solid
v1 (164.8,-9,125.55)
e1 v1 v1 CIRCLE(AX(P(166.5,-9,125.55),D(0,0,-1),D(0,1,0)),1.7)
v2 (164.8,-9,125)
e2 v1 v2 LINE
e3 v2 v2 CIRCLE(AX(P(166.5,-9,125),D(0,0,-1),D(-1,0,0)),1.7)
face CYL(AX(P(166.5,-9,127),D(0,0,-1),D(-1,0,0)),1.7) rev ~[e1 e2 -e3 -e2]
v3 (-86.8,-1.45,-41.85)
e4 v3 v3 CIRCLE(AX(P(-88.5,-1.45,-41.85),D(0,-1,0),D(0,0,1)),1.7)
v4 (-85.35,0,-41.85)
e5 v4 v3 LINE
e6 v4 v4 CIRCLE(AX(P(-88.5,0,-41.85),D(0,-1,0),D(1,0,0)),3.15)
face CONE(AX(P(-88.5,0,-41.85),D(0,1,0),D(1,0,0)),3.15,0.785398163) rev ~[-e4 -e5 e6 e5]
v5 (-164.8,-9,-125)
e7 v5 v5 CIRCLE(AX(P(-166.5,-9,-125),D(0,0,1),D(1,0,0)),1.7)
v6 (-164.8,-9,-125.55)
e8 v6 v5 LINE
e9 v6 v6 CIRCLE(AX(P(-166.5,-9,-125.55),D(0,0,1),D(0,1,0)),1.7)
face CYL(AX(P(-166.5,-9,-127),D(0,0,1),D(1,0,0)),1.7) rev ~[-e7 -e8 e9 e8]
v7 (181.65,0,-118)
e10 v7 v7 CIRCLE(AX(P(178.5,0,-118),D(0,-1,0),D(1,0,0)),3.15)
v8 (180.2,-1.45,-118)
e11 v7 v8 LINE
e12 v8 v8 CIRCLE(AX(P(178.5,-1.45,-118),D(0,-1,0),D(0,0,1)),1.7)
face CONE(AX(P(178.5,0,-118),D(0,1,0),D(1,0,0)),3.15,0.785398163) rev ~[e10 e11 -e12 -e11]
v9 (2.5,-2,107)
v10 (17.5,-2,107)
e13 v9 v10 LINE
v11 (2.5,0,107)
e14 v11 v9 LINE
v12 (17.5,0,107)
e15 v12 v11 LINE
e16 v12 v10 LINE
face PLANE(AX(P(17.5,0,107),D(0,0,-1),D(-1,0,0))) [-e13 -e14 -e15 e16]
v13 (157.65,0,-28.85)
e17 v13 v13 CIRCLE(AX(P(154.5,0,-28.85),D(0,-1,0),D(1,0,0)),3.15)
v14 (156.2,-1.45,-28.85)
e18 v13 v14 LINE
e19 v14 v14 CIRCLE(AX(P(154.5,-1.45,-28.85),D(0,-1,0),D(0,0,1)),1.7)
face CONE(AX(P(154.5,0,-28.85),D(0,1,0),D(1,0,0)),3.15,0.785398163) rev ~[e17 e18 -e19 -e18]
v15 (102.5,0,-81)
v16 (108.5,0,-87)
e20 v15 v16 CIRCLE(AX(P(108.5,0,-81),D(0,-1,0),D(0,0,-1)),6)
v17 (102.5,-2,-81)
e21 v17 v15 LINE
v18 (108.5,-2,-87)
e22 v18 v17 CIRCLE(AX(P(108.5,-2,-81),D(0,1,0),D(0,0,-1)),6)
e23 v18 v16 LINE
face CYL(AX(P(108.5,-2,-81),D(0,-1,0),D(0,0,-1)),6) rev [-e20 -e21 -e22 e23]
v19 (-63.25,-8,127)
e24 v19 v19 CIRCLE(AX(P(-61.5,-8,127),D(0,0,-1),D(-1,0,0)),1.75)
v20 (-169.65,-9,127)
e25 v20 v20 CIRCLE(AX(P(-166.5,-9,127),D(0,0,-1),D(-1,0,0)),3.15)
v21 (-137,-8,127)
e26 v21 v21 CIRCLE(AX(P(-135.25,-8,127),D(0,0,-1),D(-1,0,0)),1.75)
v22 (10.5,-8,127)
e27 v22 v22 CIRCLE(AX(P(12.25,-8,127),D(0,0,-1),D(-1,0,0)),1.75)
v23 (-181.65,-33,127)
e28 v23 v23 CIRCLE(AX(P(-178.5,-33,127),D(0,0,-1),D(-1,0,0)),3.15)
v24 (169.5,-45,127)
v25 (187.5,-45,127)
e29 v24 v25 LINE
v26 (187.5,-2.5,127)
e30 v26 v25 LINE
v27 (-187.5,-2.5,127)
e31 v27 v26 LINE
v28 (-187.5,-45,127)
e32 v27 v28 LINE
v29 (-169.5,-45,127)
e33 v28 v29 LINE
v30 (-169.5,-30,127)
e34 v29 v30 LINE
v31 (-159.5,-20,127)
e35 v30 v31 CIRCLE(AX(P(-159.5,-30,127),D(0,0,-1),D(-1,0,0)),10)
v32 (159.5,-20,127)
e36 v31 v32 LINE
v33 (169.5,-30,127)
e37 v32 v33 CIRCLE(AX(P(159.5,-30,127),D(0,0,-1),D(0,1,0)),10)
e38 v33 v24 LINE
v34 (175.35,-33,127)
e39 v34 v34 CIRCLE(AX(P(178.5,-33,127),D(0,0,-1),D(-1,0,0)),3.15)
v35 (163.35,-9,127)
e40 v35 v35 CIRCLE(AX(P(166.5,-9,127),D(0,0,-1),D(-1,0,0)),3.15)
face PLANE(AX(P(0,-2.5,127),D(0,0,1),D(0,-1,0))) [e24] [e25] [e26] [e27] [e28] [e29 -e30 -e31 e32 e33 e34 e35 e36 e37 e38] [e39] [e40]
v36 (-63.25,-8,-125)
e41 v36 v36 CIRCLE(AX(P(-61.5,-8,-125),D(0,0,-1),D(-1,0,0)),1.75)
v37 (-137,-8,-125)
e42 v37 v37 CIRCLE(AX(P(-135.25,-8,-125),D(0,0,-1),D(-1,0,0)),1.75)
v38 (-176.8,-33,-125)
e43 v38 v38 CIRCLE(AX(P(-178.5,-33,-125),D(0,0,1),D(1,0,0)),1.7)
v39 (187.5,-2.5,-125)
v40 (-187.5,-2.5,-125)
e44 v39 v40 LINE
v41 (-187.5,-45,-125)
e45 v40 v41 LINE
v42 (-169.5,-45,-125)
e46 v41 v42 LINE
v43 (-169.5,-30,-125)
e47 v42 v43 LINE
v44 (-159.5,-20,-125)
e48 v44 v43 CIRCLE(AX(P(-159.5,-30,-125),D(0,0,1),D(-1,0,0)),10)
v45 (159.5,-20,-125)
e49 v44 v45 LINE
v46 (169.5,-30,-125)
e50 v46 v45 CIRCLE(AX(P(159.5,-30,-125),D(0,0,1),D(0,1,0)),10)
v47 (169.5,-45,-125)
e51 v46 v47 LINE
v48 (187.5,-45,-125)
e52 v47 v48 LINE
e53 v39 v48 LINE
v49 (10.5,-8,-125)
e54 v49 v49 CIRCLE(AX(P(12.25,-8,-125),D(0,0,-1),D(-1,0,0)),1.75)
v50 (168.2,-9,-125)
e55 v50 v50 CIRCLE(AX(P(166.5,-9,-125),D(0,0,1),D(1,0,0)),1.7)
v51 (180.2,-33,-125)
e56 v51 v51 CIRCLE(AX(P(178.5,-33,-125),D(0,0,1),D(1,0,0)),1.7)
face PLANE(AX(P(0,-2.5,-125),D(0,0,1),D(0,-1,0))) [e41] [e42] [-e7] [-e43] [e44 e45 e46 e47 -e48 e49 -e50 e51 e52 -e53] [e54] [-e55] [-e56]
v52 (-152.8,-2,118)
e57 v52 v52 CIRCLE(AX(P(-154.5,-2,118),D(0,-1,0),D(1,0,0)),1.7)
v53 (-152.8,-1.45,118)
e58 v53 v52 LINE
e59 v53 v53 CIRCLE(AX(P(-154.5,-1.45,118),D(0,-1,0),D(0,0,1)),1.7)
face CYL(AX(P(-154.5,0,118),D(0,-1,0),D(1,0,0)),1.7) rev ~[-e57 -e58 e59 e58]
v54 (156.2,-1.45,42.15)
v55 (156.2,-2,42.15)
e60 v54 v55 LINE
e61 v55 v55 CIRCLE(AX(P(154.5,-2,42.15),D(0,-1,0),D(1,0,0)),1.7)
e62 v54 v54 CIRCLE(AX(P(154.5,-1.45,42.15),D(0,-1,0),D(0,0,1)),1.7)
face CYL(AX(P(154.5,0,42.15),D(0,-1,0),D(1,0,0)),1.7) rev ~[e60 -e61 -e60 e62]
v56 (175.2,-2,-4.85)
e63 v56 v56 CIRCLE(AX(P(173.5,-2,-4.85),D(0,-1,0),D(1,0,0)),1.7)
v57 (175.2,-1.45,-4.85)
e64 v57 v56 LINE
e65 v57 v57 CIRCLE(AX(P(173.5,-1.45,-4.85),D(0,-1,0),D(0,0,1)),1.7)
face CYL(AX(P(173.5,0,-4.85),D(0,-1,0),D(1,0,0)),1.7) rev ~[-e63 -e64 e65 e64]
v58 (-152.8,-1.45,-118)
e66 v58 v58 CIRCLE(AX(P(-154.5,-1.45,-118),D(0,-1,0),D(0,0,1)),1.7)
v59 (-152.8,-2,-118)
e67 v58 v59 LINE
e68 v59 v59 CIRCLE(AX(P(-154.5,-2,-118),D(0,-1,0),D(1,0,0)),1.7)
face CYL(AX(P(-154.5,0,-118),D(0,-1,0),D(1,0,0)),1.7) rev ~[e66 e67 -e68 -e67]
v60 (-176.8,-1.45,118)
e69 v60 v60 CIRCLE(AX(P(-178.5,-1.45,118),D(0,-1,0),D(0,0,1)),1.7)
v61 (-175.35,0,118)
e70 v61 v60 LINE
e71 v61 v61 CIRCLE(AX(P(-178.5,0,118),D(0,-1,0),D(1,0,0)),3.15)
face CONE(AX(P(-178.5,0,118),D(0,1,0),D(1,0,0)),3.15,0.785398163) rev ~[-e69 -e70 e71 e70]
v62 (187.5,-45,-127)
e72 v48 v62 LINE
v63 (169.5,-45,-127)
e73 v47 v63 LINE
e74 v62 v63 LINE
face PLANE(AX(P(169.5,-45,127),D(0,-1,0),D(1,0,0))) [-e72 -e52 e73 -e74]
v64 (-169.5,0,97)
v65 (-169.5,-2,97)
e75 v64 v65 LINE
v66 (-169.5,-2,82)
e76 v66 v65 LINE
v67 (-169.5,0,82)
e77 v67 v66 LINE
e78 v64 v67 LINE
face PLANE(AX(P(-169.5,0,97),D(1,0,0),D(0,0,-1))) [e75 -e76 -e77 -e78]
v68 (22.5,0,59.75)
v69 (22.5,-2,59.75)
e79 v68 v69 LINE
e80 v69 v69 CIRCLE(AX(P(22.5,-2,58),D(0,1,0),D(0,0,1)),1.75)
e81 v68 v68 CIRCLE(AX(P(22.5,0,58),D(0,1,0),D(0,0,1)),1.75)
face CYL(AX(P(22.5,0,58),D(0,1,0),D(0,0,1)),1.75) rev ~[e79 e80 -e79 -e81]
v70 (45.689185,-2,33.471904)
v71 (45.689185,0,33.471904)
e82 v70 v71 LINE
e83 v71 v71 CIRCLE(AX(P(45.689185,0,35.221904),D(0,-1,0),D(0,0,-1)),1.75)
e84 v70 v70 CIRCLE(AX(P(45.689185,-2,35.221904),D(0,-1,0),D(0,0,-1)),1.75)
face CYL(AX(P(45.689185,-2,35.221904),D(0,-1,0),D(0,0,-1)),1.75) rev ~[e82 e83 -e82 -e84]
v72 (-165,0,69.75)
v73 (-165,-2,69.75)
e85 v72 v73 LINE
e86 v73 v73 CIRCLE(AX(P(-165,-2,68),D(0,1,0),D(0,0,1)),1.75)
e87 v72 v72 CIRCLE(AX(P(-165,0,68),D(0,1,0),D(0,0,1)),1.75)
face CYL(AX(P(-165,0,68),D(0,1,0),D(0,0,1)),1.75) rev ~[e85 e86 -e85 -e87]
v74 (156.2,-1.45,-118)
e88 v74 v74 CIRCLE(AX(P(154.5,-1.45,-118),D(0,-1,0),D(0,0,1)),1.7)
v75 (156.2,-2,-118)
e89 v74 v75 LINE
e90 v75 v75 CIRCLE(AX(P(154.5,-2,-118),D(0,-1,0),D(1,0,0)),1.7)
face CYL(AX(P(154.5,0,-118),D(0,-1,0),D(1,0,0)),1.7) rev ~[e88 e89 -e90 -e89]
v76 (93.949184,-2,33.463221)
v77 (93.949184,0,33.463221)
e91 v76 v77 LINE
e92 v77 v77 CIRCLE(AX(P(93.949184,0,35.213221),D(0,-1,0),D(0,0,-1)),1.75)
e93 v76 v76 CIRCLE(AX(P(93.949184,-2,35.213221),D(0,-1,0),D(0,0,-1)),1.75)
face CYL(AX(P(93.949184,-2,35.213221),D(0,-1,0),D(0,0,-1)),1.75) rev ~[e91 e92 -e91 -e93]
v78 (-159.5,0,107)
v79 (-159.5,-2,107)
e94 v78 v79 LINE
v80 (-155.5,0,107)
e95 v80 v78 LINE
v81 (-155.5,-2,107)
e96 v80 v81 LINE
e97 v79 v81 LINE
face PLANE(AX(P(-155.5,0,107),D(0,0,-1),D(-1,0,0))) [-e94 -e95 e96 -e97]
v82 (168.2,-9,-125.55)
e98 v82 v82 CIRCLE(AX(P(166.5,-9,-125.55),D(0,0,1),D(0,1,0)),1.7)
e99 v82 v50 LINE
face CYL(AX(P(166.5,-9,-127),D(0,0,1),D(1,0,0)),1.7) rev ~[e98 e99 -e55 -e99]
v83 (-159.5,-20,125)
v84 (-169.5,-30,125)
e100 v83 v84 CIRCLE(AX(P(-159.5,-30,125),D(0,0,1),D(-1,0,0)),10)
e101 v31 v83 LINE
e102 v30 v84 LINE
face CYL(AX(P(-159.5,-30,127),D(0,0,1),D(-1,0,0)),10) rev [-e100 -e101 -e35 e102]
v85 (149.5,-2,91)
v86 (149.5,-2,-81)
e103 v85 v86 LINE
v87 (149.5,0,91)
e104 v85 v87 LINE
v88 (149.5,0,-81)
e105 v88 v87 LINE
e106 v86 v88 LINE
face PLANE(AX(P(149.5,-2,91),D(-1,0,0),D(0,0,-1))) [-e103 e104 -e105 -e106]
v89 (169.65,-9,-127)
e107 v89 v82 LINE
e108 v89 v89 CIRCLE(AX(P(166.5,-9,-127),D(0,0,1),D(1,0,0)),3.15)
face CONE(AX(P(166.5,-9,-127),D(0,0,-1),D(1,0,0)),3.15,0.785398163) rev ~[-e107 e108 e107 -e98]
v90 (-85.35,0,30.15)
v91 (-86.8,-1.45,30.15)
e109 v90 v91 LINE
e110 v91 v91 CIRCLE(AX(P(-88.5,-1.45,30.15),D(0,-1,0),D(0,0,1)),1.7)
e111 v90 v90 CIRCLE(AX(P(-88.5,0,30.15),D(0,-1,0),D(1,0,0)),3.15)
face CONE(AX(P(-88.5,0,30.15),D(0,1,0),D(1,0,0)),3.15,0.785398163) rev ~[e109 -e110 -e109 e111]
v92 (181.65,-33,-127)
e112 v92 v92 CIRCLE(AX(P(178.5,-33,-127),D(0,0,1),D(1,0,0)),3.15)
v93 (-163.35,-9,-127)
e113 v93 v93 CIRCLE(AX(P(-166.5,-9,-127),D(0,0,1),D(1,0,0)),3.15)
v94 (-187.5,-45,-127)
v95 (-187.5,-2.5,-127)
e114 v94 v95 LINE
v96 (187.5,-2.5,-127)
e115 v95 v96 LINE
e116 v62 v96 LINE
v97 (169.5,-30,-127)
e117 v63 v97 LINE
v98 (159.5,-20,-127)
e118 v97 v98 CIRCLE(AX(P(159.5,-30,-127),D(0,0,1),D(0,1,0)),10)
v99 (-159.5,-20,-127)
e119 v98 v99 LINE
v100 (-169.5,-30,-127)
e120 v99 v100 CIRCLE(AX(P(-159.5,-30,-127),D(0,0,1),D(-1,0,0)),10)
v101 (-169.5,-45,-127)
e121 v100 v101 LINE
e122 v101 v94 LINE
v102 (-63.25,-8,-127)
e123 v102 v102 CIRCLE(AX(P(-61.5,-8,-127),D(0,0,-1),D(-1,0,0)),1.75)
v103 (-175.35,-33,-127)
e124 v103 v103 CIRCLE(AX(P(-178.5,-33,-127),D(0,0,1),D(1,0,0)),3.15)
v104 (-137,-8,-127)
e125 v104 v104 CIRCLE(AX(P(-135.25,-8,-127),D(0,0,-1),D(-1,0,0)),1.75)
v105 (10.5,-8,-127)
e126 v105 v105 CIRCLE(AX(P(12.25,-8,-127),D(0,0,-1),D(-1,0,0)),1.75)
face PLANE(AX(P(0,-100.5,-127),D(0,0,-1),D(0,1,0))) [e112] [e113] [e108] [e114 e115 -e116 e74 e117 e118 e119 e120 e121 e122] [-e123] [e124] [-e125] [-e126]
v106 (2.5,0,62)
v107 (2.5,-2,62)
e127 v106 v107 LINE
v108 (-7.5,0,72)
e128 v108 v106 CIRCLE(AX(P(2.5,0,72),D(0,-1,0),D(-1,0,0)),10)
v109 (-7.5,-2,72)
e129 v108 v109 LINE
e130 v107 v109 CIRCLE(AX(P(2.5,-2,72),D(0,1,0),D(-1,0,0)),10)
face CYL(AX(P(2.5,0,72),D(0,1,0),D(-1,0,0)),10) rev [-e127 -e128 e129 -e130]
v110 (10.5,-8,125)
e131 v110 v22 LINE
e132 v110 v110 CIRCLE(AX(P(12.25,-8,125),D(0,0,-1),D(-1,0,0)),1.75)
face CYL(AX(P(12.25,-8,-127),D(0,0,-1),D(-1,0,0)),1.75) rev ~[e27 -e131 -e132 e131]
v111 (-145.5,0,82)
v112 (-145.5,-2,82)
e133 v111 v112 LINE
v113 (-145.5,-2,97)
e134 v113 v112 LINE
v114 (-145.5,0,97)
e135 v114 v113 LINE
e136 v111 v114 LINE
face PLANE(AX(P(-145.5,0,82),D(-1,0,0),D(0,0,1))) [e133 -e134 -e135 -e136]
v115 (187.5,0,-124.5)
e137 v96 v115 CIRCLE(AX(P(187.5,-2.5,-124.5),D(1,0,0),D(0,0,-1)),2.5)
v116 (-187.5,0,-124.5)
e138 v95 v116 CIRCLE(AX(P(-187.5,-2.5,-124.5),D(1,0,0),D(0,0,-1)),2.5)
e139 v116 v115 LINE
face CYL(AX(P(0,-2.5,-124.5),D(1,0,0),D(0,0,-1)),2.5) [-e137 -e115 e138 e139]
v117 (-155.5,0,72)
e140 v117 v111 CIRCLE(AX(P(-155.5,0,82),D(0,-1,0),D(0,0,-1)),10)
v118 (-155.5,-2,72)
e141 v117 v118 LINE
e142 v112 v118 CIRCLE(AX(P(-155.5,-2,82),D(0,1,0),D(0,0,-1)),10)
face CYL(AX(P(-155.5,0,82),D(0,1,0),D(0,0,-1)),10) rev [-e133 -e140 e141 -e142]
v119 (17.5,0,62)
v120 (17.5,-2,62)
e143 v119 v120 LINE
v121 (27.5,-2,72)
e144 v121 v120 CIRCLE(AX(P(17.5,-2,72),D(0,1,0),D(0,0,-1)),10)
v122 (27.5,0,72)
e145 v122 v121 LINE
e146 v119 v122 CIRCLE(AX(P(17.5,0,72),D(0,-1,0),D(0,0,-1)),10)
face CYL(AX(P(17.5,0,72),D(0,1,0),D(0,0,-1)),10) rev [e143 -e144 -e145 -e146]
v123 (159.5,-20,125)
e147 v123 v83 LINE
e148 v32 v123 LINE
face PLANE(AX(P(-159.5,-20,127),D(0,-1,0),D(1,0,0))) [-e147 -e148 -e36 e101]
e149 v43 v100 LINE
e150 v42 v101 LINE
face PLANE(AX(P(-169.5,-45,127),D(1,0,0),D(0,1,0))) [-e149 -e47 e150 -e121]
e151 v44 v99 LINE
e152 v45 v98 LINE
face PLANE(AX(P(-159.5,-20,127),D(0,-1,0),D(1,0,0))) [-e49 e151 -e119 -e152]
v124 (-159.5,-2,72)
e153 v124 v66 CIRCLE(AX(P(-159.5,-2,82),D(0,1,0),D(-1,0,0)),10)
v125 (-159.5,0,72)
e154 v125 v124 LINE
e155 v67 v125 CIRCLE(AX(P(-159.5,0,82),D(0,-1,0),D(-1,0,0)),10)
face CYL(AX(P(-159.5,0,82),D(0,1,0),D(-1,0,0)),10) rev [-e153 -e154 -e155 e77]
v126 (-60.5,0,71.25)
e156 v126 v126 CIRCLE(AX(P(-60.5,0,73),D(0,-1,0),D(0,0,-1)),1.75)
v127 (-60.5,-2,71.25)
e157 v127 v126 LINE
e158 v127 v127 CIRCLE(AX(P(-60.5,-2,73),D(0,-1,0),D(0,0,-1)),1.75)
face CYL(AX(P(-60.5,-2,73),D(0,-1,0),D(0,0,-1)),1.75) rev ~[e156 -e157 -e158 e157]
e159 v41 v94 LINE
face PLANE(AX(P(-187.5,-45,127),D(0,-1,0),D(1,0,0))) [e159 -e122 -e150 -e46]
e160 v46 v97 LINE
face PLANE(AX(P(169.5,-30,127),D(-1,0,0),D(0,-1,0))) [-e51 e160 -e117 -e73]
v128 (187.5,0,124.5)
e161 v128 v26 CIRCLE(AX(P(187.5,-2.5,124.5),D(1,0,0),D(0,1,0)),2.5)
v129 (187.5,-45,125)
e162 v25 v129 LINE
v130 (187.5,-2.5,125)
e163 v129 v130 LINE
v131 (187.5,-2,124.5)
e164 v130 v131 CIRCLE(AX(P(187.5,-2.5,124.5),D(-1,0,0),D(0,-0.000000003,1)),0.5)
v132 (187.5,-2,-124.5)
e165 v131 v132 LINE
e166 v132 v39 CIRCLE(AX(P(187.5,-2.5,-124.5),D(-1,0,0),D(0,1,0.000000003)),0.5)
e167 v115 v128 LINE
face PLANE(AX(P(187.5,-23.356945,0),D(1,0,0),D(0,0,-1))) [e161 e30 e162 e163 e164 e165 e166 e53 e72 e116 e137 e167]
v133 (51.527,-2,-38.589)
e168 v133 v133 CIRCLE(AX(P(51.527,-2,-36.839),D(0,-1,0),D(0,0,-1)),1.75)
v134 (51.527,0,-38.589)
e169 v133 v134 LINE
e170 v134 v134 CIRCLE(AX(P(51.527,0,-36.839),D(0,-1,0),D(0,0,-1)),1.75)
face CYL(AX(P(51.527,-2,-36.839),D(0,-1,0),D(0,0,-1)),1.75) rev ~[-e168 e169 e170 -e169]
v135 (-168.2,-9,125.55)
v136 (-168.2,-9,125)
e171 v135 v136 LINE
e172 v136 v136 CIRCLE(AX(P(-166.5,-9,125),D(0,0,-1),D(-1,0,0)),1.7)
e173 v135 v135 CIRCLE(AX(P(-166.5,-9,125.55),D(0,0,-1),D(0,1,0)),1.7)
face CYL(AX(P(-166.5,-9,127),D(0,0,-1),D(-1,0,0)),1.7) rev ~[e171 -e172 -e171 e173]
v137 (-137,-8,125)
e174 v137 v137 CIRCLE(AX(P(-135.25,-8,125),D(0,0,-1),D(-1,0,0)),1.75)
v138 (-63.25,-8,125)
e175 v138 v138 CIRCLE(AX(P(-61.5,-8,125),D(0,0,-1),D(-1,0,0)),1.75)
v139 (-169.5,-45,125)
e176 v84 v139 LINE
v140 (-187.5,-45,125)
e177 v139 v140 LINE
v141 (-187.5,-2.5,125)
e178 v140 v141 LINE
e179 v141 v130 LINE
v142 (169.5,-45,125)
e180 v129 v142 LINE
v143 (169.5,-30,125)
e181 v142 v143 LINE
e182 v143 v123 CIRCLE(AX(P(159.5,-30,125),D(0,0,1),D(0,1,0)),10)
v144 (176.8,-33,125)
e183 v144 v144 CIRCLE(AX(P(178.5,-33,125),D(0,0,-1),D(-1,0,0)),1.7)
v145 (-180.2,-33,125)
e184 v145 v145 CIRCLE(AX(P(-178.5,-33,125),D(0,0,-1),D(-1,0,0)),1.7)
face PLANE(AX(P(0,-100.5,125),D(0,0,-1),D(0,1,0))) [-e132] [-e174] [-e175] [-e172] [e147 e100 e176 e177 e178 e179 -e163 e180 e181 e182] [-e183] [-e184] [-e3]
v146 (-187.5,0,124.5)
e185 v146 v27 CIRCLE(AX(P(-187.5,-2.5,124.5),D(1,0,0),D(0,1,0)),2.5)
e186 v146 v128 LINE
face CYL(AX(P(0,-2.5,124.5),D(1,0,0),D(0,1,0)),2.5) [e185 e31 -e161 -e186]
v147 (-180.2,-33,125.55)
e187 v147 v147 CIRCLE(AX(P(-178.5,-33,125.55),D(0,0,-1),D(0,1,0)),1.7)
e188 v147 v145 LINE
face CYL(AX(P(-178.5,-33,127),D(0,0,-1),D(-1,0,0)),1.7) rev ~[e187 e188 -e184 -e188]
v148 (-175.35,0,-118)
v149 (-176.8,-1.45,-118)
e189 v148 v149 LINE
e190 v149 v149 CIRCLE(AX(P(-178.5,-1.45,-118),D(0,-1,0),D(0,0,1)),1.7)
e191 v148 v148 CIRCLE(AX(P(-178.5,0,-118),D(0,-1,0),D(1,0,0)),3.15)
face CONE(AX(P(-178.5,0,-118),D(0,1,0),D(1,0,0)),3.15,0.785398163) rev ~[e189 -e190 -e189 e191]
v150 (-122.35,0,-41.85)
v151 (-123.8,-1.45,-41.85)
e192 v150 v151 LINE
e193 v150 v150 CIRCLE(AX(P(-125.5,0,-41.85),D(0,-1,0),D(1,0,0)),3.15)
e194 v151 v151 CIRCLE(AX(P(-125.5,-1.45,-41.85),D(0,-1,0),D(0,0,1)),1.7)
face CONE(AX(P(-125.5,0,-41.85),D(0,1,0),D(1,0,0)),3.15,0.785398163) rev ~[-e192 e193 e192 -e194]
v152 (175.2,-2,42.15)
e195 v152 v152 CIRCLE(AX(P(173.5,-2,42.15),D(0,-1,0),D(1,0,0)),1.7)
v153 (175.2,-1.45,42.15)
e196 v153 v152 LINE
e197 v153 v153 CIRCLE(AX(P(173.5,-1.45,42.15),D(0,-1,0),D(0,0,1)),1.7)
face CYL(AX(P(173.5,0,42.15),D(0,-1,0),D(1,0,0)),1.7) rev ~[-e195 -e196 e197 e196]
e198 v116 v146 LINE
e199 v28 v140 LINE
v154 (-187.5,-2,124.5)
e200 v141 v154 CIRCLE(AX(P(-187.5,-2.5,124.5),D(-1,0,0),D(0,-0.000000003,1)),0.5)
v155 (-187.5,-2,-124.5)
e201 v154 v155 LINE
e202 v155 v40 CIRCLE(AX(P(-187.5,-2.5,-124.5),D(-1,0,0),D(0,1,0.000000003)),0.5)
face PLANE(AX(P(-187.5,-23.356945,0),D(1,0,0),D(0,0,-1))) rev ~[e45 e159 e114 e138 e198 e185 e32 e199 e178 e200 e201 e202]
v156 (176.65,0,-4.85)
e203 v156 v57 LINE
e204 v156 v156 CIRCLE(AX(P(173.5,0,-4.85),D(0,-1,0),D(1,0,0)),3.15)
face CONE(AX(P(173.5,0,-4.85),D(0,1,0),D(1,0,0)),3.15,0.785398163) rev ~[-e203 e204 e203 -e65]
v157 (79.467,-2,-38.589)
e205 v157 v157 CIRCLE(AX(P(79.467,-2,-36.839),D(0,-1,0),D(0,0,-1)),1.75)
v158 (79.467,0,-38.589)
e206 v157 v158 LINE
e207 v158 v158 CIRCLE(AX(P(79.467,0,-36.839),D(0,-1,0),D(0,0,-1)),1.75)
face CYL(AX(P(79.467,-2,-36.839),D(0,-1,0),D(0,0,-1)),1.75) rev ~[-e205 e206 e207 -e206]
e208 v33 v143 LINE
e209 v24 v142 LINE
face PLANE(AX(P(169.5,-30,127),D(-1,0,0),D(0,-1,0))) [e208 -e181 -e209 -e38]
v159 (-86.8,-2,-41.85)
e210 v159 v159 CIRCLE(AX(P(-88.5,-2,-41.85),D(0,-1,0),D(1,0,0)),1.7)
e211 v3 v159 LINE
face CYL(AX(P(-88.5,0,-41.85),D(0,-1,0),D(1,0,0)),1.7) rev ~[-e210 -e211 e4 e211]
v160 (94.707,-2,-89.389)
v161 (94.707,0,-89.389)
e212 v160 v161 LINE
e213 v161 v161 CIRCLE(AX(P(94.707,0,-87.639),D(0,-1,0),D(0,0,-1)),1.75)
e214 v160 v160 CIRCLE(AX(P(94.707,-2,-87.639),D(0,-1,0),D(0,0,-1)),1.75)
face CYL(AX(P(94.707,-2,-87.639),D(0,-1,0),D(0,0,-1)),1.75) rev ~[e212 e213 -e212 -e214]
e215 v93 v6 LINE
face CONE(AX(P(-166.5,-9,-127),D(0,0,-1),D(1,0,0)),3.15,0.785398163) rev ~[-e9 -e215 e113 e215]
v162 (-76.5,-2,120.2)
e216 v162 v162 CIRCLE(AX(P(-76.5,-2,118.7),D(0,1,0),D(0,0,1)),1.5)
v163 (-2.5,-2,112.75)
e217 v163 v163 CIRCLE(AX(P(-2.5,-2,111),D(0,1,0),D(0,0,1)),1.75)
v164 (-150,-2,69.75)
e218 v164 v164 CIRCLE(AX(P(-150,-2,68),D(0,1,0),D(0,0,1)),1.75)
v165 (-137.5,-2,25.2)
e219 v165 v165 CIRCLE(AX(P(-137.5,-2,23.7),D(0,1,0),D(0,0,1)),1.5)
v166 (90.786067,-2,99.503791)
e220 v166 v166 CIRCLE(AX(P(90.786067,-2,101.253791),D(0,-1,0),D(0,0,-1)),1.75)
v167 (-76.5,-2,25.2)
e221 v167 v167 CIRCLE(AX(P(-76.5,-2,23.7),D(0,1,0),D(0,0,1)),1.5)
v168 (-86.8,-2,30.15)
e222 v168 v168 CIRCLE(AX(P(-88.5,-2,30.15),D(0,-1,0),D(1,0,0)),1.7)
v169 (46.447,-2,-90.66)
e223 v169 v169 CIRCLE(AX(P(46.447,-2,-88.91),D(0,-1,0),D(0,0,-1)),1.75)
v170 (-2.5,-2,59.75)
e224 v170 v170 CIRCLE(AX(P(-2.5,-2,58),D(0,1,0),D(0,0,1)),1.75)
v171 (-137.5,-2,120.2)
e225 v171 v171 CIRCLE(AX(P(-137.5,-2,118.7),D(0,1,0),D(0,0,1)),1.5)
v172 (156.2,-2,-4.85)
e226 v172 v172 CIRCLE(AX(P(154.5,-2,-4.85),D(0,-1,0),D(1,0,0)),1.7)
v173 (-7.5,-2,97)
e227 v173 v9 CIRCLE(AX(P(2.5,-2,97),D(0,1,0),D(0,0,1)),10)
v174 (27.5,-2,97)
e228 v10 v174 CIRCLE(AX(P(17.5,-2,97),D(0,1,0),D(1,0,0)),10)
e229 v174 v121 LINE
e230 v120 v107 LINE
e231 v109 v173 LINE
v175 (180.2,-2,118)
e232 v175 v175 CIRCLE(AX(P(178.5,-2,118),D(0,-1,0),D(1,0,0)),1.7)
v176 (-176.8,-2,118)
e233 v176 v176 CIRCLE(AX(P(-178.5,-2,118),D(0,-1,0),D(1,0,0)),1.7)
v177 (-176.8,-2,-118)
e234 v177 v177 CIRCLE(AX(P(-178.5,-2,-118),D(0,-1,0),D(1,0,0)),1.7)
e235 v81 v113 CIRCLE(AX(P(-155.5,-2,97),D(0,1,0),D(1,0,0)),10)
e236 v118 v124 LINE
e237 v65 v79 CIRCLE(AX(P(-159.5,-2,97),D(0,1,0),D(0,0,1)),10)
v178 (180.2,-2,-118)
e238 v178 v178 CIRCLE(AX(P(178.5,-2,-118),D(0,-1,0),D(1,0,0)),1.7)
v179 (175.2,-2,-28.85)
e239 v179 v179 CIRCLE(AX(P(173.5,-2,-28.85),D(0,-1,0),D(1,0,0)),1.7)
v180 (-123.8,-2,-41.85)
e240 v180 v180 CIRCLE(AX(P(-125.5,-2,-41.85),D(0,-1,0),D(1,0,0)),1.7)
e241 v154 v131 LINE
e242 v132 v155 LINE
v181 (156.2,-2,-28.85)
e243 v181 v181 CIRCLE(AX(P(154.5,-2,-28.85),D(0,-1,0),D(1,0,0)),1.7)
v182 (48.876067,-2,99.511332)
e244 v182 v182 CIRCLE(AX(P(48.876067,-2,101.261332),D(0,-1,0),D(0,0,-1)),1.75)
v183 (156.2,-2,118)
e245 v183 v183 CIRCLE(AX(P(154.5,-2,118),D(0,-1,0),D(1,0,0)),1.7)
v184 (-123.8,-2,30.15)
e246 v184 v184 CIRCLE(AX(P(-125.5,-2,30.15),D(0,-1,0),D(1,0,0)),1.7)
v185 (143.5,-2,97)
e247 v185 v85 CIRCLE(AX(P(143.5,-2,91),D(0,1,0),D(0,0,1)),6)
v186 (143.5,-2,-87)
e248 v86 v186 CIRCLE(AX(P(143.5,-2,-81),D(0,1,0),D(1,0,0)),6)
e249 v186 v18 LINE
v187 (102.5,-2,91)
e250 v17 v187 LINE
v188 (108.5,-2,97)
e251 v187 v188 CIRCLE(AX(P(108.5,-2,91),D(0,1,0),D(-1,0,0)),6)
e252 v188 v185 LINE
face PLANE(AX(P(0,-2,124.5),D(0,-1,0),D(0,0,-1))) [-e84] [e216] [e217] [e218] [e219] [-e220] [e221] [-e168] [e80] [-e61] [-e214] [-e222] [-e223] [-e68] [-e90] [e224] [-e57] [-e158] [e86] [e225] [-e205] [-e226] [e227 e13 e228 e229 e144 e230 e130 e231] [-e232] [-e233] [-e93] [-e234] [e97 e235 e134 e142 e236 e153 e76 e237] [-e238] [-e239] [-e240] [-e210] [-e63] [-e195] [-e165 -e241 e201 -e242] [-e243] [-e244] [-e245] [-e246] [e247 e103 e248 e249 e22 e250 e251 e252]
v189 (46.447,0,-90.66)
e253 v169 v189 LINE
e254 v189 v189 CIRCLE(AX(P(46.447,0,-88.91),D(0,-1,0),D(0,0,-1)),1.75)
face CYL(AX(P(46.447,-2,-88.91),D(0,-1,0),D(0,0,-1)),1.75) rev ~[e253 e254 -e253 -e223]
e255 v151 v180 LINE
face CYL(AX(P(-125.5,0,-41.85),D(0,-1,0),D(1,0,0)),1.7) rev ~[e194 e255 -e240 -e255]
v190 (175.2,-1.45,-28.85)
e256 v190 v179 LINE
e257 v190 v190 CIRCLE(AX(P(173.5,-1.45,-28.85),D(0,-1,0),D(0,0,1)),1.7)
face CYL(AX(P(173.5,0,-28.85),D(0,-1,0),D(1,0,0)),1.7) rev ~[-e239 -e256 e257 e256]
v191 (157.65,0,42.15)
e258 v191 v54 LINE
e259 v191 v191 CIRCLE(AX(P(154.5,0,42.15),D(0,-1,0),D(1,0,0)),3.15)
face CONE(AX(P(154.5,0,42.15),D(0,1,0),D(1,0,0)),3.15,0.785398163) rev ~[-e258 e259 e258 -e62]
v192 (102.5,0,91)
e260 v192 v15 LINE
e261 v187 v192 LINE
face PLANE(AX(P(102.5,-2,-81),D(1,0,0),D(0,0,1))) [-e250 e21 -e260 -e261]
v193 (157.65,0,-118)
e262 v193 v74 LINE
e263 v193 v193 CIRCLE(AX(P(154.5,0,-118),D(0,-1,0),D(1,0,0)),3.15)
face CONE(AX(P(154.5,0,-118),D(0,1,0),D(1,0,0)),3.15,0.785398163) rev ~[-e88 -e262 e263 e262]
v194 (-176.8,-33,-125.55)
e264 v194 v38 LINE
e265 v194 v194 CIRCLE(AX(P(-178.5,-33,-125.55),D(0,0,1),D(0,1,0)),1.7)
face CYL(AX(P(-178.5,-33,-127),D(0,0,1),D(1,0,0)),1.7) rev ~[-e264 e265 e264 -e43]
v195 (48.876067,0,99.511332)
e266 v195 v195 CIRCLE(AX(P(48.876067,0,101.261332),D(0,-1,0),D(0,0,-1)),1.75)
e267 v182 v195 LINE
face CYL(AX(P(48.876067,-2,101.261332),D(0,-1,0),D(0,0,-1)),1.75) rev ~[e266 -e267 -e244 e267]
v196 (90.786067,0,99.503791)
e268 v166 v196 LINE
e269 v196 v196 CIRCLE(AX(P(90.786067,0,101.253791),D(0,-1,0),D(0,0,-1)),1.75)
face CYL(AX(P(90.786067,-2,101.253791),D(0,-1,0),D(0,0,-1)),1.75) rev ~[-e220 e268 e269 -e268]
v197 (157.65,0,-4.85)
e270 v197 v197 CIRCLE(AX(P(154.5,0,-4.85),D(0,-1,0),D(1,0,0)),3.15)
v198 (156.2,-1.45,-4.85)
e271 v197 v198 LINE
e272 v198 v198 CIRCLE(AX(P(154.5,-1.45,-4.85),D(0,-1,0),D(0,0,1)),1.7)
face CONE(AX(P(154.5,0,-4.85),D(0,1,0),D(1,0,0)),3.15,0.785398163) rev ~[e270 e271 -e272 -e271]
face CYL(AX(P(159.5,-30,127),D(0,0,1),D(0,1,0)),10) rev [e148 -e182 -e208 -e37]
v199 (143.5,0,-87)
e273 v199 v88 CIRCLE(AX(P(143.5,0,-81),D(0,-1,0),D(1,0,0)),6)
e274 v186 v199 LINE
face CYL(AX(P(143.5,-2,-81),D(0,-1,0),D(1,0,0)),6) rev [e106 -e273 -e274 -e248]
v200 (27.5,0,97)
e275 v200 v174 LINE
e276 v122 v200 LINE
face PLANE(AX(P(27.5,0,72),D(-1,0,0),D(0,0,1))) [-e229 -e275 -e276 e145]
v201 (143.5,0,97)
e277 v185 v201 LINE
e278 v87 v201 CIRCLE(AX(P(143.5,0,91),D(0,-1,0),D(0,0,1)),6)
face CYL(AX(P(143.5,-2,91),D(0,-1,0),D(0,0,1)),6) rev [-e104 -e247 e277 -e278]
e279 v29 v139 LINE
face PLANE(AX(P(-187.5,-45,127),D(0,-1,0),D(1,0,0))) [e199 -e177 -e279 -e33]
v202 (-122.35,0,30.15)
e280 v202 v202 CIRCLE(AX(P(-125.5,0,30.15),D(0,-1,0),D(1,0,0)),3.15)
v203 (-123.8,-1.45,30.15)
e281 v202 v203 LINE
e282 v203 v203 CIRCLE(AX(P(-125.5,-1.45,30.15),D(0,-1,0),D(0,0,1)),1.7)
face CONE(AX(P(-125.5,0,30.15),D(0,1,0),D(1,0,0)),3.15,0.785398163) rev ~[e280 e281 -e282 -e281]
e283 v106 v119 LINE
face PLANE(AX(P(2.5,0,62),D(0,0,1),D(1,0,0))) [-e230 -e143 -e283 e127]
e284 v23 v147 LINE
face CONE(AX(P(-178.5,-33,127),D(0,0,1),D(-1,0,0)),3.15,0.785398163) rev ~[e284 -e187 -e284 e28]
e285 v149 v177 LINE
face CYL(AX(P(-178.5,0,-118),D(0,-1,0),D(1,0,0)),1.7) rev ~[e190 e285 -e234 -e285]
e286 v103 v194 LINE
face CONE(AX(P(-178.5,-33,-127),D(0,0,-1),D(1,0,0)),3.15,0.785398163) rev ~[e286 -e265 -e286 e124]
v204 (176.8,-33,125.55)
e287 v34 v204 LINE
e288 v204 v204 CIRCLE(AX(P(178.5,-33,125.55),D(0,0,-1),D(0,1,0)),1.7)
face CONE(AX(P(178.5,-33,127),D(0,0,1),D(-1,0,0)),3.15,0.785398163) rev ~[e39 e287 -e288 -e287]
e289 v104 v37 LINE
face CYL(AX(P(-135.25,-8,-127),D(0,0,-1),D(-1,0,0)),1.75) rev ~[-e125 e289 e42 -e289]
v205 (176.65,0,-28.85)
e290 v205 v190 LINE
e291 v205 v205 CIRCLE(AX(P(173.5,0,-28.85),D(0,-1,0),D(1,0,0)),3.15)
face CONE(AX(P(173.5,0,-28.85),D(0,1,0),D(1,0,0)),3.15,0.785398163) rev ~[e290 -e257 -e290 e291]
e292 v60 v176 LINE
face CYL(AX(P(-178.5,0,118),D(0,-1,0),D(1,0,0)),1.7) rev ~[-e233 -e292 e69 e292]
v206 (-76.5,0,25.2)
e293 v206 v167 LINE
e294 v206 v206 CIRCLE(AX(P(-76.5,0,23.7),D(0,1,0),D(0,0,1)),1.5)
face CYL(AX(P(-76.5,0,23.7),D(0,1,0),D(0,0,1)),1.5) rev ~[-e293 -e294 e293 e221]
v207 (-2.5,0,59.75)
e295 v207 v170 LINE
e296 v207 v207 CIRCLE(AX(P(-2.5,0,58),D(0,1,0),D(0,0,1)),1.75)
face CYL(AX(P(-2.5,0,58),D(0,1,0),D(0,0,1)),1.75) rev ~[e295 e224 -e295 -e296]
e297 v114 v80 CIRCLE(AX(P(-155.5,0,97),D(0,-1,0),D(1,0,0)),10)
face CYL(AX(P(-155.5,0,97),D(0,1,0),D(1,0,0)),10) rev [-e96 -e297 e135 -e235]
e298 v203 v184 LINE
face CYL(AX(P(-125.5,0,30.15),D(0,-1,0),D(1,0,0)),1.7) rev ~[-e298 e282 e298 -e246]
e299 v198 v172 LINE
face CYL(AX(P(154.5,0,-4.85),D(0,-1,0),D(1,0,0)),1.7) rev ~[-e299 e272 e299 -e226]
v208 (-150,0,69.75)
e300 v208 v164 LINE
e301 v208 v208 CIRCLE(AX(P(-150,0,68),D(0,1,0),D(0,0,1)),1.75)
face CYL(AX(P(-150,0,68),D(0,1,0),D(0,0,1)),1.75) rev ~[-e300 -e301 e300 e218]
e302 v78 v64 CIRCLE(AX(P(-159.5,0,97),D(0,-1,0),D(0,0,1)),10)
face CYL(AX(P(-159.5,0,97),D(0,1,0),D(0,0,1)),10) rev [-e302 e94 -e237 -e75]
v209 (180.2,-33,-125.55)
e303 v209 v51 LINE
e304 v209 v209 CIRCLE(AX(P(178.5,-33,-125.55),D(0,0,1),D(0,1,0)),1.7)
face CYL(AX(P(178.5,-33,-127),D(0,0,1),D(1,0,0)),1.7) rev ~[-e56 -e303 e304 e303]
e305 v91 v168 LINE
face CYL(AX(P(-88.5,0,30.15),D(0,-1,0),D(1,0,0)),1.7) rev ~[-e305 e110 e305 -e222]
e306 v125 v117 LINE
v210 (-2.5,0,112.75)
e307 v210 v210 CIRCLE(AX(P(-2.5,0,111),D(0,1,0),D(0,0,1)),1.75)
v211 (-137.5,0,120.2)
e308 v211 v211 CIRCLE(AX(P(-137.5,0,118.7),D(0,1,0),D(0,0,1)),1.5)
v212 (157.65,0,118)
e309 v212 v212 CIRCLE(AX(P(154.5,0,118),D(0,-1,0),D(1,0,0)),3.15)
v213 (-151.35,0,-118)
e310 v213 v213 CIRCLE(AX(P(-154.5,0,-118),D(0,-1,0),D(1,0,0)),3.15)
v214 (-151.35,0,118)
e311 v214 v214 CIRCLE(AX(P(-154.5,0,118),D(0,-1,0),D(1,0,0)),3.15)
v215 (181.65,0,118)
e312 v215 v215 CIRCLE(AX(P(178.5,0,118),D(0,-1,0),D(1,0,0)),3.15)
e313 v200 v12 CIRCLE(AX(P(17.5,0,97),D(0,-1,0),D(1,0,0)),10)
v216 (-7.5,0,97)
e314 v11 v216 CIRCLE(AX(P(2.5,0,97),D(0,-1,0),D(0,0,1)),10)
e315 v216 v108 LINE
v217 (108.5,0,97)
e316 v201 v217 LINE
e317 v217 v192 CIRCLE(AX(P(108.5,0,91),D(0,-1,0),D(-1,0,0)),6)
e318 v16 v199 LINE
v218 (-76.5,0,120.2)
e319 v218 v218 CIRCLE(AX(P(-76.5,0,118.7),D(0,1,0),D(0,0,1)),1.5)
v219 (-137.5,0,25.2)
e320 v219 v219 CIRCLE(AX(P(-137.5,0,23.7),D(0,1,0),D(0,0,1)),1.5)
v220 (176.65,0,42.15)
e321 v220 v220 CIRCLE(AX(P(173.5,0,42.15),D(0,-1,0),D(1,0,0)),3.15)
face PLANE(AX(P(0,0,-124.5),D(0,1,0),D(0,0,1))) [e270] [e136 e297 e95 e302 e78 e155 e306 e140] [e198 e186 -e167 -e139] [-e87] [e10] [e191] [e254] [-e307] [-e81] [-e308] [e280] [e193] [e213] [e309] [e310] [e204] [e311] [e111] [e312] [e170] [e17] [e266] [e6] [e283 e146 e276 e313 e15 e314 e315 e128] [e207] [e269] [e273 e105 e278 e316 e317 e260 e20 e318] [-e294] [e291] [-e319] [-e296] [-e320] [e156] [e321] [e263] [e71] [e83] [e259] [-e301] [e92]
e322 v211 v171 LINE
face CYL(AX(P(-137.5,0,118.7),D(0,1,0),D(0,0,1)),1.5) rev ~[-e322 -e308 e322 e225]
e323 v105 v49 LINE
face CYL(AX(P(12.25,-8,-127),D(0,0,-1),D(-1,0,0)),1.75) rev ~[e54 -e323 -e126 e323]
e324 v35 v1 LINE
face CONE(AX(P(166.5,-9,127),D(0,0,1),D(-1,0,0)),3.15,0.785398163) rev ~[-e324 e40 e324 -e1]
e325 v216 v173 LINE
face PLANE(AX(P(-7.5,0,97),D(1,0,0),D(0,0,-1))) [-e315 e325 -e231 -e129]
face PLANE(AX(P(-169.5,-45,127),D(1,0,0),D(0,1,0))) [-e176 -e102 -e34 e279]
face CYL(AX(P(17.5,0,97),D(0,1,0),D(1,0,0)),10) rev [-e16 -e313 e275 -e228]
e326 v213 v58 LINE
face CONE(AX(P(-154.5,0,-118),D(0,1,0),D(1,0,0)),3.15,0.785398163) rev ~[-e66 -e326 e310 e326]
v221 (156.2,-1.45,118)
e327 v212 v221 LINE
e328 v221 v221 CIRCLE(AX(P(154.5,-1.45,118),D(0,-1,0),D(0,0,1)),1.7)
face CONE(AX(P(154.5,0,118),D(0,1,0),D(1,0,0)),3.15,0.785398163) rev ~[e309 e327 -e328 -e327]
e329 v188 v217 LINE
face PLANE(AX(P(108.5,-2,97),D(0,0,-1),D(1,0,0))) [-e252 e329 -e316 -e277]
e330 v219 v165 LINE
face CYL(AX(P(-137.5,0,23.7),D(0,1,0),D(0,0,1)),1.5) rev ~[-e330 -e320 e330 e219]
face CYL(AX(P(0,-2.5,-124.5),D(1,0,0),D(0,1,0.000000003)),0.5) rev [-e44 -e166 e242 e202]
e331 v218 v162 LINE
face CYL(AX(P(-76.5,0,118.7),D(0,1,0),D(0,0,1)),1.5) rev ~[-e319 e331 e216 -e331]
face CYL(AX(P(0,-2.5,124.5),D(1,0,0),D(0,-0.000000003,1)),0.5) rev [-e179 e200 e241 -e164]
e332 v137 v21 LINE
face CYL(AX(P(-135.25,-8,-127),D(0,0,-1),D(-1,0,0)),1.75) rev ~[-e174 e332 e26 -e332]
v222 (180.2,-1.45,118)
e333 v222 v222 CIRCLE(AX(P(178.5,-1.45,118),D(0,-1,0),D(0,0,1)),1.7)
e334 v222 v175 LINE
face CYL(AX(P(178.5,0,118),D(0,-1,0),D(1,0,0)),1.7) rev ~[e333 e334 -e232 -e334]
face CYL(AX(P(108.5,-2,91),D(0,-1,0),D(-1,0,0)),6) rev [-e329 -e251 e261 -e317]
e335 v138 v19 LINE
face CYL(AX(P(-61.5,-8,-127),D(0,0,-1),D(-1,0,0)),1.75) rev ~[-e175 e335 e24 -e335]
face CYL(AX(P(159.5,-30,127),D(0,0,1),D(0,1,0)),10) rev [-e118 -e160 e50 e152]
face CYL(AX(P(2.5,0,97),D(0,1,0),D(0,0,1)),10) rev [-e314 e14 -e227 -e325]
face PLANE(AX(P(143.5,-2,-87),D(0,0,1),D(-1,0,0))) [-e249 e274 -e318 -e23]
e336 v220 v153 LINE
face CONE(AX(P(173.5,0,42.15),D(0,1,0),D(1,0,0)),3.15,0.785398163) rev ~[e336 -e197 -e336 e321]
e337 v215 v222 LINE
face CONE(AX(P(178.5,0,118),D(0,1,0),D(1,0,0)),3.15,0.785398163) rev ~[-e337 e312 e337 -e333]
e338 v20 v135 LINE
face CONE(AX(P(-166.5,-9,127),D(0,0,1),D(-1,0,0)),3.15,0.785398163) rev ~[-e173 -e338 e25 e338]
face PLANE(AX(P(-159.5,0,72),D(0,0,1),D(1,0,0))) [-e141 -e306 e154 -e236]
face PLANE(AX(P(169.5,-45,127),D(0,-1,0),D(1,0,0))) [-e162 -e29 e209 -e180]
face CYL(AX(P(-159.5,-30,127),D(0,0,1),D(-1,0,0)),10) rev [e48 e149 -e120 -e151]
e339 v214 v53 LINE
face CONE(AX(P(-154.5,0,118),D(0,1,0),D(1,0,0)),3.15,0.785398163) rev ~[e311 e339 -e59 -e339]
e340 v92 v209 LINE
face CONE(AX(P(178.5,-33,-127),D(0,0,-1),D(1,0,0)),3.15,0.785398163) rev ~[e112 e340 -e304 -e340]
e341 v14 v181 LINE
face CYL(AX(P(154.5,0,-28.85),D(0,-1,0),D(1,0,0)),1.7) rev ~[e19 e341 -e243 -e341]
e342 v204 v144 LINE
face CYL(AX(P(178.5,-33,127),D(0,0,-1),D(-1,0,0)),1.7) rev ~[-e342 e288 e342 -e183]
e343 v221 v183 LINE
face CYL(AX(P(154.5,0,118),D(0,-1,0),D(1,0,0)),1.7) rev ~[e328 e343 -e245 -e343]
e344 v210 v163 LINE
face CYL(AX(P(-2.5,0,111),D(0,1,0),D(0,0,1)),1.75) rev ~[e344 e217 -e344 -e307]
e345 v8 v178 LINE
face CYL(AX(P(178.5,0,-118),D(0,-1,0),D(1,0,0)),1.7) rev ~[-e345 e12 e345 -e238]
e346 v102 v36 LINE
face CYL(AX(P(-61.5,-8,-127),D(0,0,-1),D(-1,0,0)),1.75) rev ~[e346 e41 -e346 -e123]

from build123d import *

# Parameters (mm, degrees)
BOSS_EXTRUDE1_DEPTH                             = 187.5
CUT_EXTRUDE1_DEPTH                              = 255
CUT_EXTRUDE4_DEPTH                              = 10
SKETCH6_R                                       = 1.5
CUT_EXTRUDE5_DEPTH                              = 255
SKETCH9_R                                       = 1.5
CUT_EXTRUDE8_DEPTH                              = 10
SKETCH19_R                                      = 1.5
CUT_EXTRUDE9_DEPTH                              = 10
SKETCH20_R                                      = 1.75
CUT_EXTRUDE10_DEPTH                             = 255
CSK_FOR_M3_FLAT_HEAD_MACHINE_SCREW1_D           = 3.4
CSK_FOR_M3_FLAT_HEAD_MACHINE_SCREW1_DEPTH       = 10
CSK_FOR_M3_FLAT_HEAD_MACHINE_SCREW1_CSINK_D     = 6.3
CSK_FOR_M3_FLAT_HEAD_MACHINE_SCREW1_CSINK_ANGLE = 90
CSK_FOR_M3_FLAT_HEAD_MACHINE_SCREW1_TIP         = 1.021463052
CSK_FOR_M3_FLAT_HEAD_MACHINE_SCREW2_D           = 3.4
CSK_FOR_M3_FLAT_HEAD_MACHINE_SCREW2_DEPTH       = 10
CSK_FOR_M3_FLAT_HEAD_MACHINE_SCREW2_CSINK_D     = 6.3
CSK_FOR_M3_FLAT_HEAD_MACHINE_SCREW2_CSINK_ANGLE = 90
CSK_FOR_M3_FLAT_HEAD_MACHINE_SCREW2_TIP         = 1.021463052
CSK_FOR_M3_FLAT_HEAD_MACHINE_SCREW3_D           = 3.4
CSK_FOR_M3_FLAT_HEAD_MACHINE_SCREW3_DEPTH       = 10
CSK_FOR_M3_FLAT_HEAD_MACHINE_SCREW3_CSINK_D     = 6.3
CSK_FOR_M3_FLAT_HEAD_MACHINE_SCREW3_CSINK_ANGLE = 90
CSK_FOR_M3_FLAT_HEAD_MACHINE_SCREW3_TIP         = 1.021463052
SKETCH28_R                                      = 1.75
CUT_EXTRUDE11_DEPTH                             = 10
SKETCH29_R                                      = 1.75
CUT_EXTRUDE12_DEPTH                             = 10
SKETCH30_R                                      = 1.75
CUT_EXTRUDE13_DEPTH                             = 3


with BuildPart() as part:
    # Sketch1 → Boss-Extrude1 (new body, symmetric)
    with BuildSketch(Plane(origin=(0, 0, 0), x_dir=(0, 0, -1), z_dir=(1, 0, 0))):
        with BuildLine():
            Line((125, -100.5), (127, -100.5))
            Line((127, -100.5), (127, -2.5))
            ThreePointArc((127, -2.5), (126.267766953, -0.732233047), (124.5, 0))
            Line((124.5, 0), (-124.5, 0))
            ThreePointArc((-124.5, 0), (-126.267766953, -0.732233047), (-127, -2.5))
            Line((-127, -2.5), (-127, -100.5))
            Line((-127, -100.5), (-125, -100.5))
            Line((-125, -100.5), (-125, -2.5))
            ThreePointArc((-125, -2.5), (-124.853553391, -2.146446609), (-124.5, -2))
            Line((-124.5, -2), (124.5, -2))
            ThreePointArc((124.5, -2), (124.853553391, -2.146446609), (125, -2.5))
            Line((125, -2.5), (125, -100.5))
        make_face()
    extrude(amount=BOSS_EXTRUDE1_DEPTH, both=True)

    # Sketch2 → Cut-Extrude1 (cut, through all)
    with BuildSketch(Plane.XY.offset(127)):
        with BuildLine():
            Line((187.5, -45), (187.5, -100.5))
            Line((187.5, -100.5), (-187.5, -100.5))
            Line((-187.5, -100.5), (-187.5, -45))
            Line((-187.5, -45), (-169.5, -45))
            Line((-169.5, -45), (-169.5, -30))
            ThreePointArc((-169.5, -30), (-166.571067812, -22.928932188), (-159.5, -20))
            Line((-159.5, -20), (159.5, -20))
            ThreePointArc((159.5, -20), (166.571067812, -22.928932188), (169.5, -30))
            Line((169.5, -30), (169.5, -45))
            Line((169.5, -45), (187.5, -45))
        make_face()
    extrude(amount=-CUT_EXTRUDE1_DEPTH, mode=Mode.SUBTRACT)

    # Sketch5 → Cut-Extrude4 (cut)
    with BuildSketch(Plane.XZ.offset(2)):
        with BuildLine():
            Line((108.5, 97), (143.5, 97))
            ThreePointArc((143.5, 97), (147.742640687, 95.242640687), (149.5, 91))
            Line((149.5, 91), (149.5, -81))
            ThreePointArc((149.5, -81), (147.742640687, -85.242640687), (143.5, -87))
            Line((143.5, -87), (108.5, -87))
            ThreePointArc((108.5, -87), (104.257359313, -85.242640687), (102.5, -81))
            Line((102.5, -81), (102.5, 91))
            ThreePointArc((102.5, 91), (104.257359313, 95.242640687), (108.5, 97))
        make_face()
    extrude(amount=-CUT_EXTRUDE4_DEPTH, mode=Mode.SUBTRACT)

    # Sketch6 → Cut-Extrude5 (cut, through all)
    with BuildSketch(Plane(origin=(0, 0, -127), x_dir=(-1, 0, 0), z_dir=(0, 0, -1))):
        with Locations((-178.5, -33)):
            Circle(SKETCH6_R)
        with Locations((-166.5, -9)):
            Circle(SKETCH6_R)
        with Locations((166.5, -9)):
            Circle(SKETCH6_R)
        with Locations((178.5, -33)):
            Circle(SKETCH6_R)
    extrude(amount=-CUT_EXTRUDE5_DEPTH, mode=Mode.SUBTRACT)

    # Sketch9 → Cut-Extrude8 (cut)
    with BuildSketch(Plane(origin=(0, 0, 0), x_dir=(1, 0, 0), z_dir=(0, 1, 0))):
        with Locations(Location((-178.5, 118, 0), (0, 0, 270))):  # turned: the seam where the file's is
            Circle(SKETCH9_R)
        with Locations(Location((-154.5, 118, 0), (0, 0, 270))):  # turned: the seam where the file's is
            Circle(SKETCH9_R)
        with Locations(Location((154.5, 118, 0), (0, 0, 270))):  # turned: the seam where the file's is
            Circle(SKETCH9_R)
        with Locations(Location((178.5, 118, 0), (0, 0, 270))):  # turned: the seam where the file's is
            Circle(SKETCH9_R)
        with Locations(Location((178.5, -118, 0), (0, 0, 270))):  # turned: the seam where the file's is
            Circle(SKETCH9_R)
        with Locations(Location((154.5, -118, 0), (0, 0, 270))):  # turned: the seam where the file's is
            Circle(SKETCH9_R)
        with Locations(Location((-154.5, -118, 0), (0, 0, 270))):  # turned: the seam where the file's is
            Circle(SKETCH9_R)
        with Locations(Location((-178.5, -118, 0), (0, 0, 270))):  # turned: the seam where the file's is
            Circle(SKETCH9_R)
        with Locations(Location((-125.5, 41.85, 0), (0, 0, 270))):  # turned: the seam where the file's is
            Circle(SKETCH9_R)
        with Locations(Location((-88.5, 41.85, 0), (0, 0, 270))):  # turned: the seam where the file's is
            Circle(SKETCH9_R)
        with Locations(Location((-125.5, -30.15, 0), (0, 0, 270))):  # turned: the seam where the file's is
            Circle(SKETCH9_R)
        with Locations(Location((-88.5, -30.15, 0), (0, 0, 270))):  # turned: the seam where the file's is
            Circle(SKETCH9_R)
        with Locations(Location((154.5, 28.85, 0), (0, 0, 270))):  # turned: the seam where the file's is
            Circle(SKETCH9_R)
        with Locations(Location((173.5, 4.85, 0), (0, 0, 270))):  # turned: the seam where the file's is
            Circle(SKETCH9_R)
        with Locations(Location((154.5, 4.85, 0), (0, 0, 270))):  # turned: the seam where the file's is
            Circle(SKETCH9_R)
        with Locations(Location((173.5, 28.85, 0), (0, 0, 270))):  # turned: the seam where the file's is
            Circle(SKETCH9_R)
        with Locations(Location((154.5, -42.15, 0), (0, 0, 270))):  # turned: the seam where the file's is
            Circle(SKETCH9_R)
        with Locations(Location((173.5, -42.15, 0), (0, 0, 270))):  # turned: the seam where the file's is
            Circle(SKETCH9_R)
    extrude(amount=-CUT_EXTRUDE8_DEPTH, mode=Mode.SUBTRACT)

    # Sketch19 → Cut-Extrude9 (cut)
    with BuildSketch(Plane(origin=(0, 0, 0), x_dir=(1, 0, 0), z_dir=(0, 1, 0))):
        with Locations(Location((-137.5, -23.7, 0), (0, 0, 270))):  # turned: the seam where the file's is
            Circle(SKETCH19_R)
        with Locations(Location((-76.5, -23.7, 0), (0, 0, 270))):  # turned: the seam where the file's is
            Circle(SKETCH19_R)
        with Locations(Location((-76.5, -118.7, 0), (0, 0, 270))):  # turned: the seam where the file's is
            Circle(SKETCH19_R)
        with Locations(Location((-137.5, -118.7, 0), (0, 0, 270))):  # turned: the seam where the file's is
            Circle(SKETCH19_R)
    extrude(amount=-CUT_EXTRUDE9_DEPTH, mode=Mode.SUBTRACT)

    # Sketch20 → Cut-Extrude10 (cut, through all)
    with BuildSketch(Plane(origin=(0, 0, -127), x_dir=(-1, 0, 0), z_dir=(0, 0, -1))):
        with Locations((-12.25, -8)):
            Circle(SKETCH20_R)
        with Locations((61.5, -8)):
            Circle(SKETCH20_R)
        with Locations((135.25, -8)):
            Circle(SKETCH20_R)
    extrude(amount=-CUT_EXTRUDE10_DEPTH, mode=Mode.SUBTRACT)

    # CSK for M3 Flat Head Machine Screw1
    with Locations(Plane.XY.offset(127)):
        with Locations((-166.5, -9), (166.5, -9), (178.5, -33), (-178.5, -33)):
            CounterSinkHole(CSK_FOR_M3_FLAT_HEAD_MACHINE_SCREW1_D / 2, CSK_FOR_M3_FLAT_HEAD_MACHINE_SCREW1_CSINK_D / 2, depth=CSK_FOR_M3_FLAT_HEAD_MACHINE_SCREW1_DEPTH, counter_sink_angle=CSK_FOR_M3_FLAT_HEAD_MACHINE_SCREW1_CSINK_ANGLE)
            with Locations((0, 0, -(CSK_FOR_M3_FLAT_HEAD_MACHINE_SCREW1_DEPTH + CSK_FOR_M3_FLAT_HEAD_MACHINE_SCREW1_TIP / 2))):  # 118° drill point
                Cone(0, CSK_FOR_M3_FLAT_HEAD_MACHINE_SCREW1_D / 2, CSK_FOR_M3_FLAT_HEAD_MACHINE_SCREW1_TIP, mode=Mode.SUBTRACT)

    # CSK for M3 Flat Head Machine Screw2
    with Locations(Plane(origin=(0, 0, -127), x_dir=(-1, 0, 0), z_dir=(0, 0, -1))):
        with Locations((-166.5, -9), (178.5, -33), (166.5, -9), (-178.5, -33)):
            CounterSinkHole(CSK_FOR_M3_FLAT_HEAD_MACHINE_SCREW2_D / 2, CSK_FOR_M3_FLAT_HEAD_MACHINE_SCREW2_CSINK_D / 2, depth=CSK_FOR_M3_FLAT_HEAD_MACHINE_SCREW2_DEPTH, counter_sink_angle=CSK_FOR_M3_FLAT_HEAD_MACHINE_SCREW2_CSINK_ANGLE)
            with Locations((0, 0, -(CSK_FOR_M3_FLAT_HEAD_MACHINE_SCREW2_DEPTH + CSK_FOR_M3_FLAT_HEAD_MACHINE_SCREW2_TIP / 2))):  # 118° drill point
                Cone(0, CSK_FOR_M3_FLAT_HEAD_MACHINE_SCREW2_D / 2, CSK_FOR_M3_FLAT_HEAD_MACHINE_SCREW2_TIP, mode=Mode.SUBTRACT)

    # CSK for M3 Flat Head Machine Screw3
    with Locations(Plane(origin=(0, 0, 0), x_dir=(-1, 0, 0), z_dir=(0, 1, 0))):
        with Locations((88.5, -41.85), (178.5, -118), (154.5, -118), (125.5, -41.85), (125.5, 30.15), (88.5, 30.15), (178.5, 118), (154.5, 118), (-154.5, 118), (-178.5, 118), (-154.5, 42.15), (-173.5, 42.15), (-173.5, -4.85), (-154.5, -4.85), (-173.5, -28.85), (-154.5, -28.85), (-178.5, -118), (-154.5, -118)):
            CounterSinkHole(CSK_FOR_M3_FLAT_HEAD_MACHINE_SCREW3_D / 2, CSK_FOR_M3_FLAT_HEAD_MACHINE_SCREW3_CSINK_D / 2, depth=CSK_FOR_M3_FLAT_HEAD_MACHINE_SCREW3_DEPTH, counter_sink_angle=CSK_FOR_M3_FLAT_HEAD_MACHINE_SCREW3_CSINK_ANGLE)
            with Locations((0, 0, -(CSK_FOR_M3_FLAT_HEAD_MACHINE_SCREW3_DEPTH + CSK_FOR_M3_FLAT_HEAD_MACHINE_SCREW3_TIP / 2))):  # 118° drill point
                Cone(0, CSK_FOR_M3_FLAT_HEAD_MACHINE_SCREW3_D / 2, CSK_FOR_M3_FLAT_HEAD_MACHINE_SCREW3_TIP, mode=Mode.SUBTRACT)

    # Sketch28 → Cut-Extrude11 (cut)
    with BuildSketch(Plane(origin=(0, 0, 0), x_dir=(-1, 0, 0), z_dir=(0, 1, 0))):
        with Locations(Location((2.5, 111, 0), (0, 0, 90))):  # turned: the seam where the file's is
            Circle(SKETCH28_R)
        with Locations(Location((2.5, 58, 0), (0, 0, 90))):  # turned: the seam where the file's is
            Circle(SKETCH28_R)
        with Locations(Location((-22.5, 58, 0), (0, 0, 90))):  # turned: the seam where the file's is
            Circle(SKETCH28_R)
        with Locations(Location((150, 68, 0), (0, 0, 90))):  # turned: the seam where the file's is
            Circle(SKETCH28_R)
        with Locations(Location((165, 68, 0), (0, 0, 90))):  # turned: the seam where the file's is
            Circle(SKETCH28_R)
        with BuildLine():
            Line((-2.5, 62), (-17.5, 62))
            ThreePointArc((-17.5, 62), (-24.571067812, 64.928932188), (-27.5, 72))
            Line((-27.5, 72), (-27.5, 97))
            ThreePointArc((-27.5, 97), (-24.571067812, 104.071067812), (-17.5, 107))
            Line((-17.5, 107), (-2.5, 107))
            ThreePointArc((-2.5, 107), (4.571067812, 104.071067812), (7.5, 97))
            Line((7.5, 97), (7.5, 72))
            ThreePointArc((7.5, 72), (4.571067812, 64.928932188), (-2.5, 62))
        make_face()
        with BuildLine():
            Line((155.5, 107), (159.5, 107))
            ThreePointArc((159.5, 107), (166.571067812, 104.071067812), (169.5, 97))
            Line((169.5, 97), (169.5, 82))
            ThreePointArc((169.5, 82), (166.571067812, 74.928932188), (159.5, 72))
            Line((159.5, 72), (155.5, 72))
            ThreePointArc((155.5, 72), (148.428932188, 74.928932188), (145.5, 82))
            Line((145.5, 82), (145.5, 97))
            ThreePointArc((145.5, 97), (148.428932188, 104.071067812), (155.5, 107))
        make_face()
    extrude(amount=-CUT_EXTRUDE11_DEPTH, mode=Mode.SUBTRACT)

    # Sketch29 → Cut-Extrude12 (cut)
    with BuildSketch(Plane.XZ.offset(2)):
        with Locations(Location((48.87606739, 101.261331894, 0), (0, 0, 270))):  # turned: the seam where the file's is
            Circle(SKETCH29_R)
        with Locations(Location((90.786066711, 101.253791257, 0), (0, 0, 270))):  # turned: the seam where the file's is
            Circle(SKETCH29_R)
        with Locations(Location((45.689185225, 35.221904223, 0), (0, 0, 270))):  # turned: the seam where the file's is
            Circle(SKETCH29_R)
        with Locations(Location((93.949184444, 35.213221065, 0), (0, 0, 270))):  # turned: the seam where the file's is
            Circle(SKETCH29_R)
        with Locations(Location((51.527, -36.839, 0), (0, 0, 270))):  # turned: the seam where the file's is
            Circle(SKETCH29_R)
        with Locations(Location((79.467, -36.839, 0), (0, 0, 270))):  # turned: the seam where the file's is
            Circle(SKETCH29_R)
        with Locations(Location((46.447, -88.91, 0), (0, 0, 270))):  # turned: the seam where the file's is
            Circle(SKETCH29_R)
        with Locations(Location((94.707, -87.639, 0), (0, 0, 270))):  # turned: the seam where the file's is
            Circle(SKETCH29_R)
    extrude(amount=-CUT_EXTRUDE12_DEPTH, mode=Mode.SUBTRACT)

    # Sketch30 → Cut-Extrude13 (cut, through all)
    with BuildSketch(Plane.XZ.offset(2)):
        with Locations(Location((-60.5, 73, 0), (0, 0, 270))):  # turned: the seam where the file's is
            Circle(SKETCH30_R)
    extrude(amount=-CUT_EXTRUDE13_DEPTH, mode=Mode.SUBTRACT)


solid = part.part
